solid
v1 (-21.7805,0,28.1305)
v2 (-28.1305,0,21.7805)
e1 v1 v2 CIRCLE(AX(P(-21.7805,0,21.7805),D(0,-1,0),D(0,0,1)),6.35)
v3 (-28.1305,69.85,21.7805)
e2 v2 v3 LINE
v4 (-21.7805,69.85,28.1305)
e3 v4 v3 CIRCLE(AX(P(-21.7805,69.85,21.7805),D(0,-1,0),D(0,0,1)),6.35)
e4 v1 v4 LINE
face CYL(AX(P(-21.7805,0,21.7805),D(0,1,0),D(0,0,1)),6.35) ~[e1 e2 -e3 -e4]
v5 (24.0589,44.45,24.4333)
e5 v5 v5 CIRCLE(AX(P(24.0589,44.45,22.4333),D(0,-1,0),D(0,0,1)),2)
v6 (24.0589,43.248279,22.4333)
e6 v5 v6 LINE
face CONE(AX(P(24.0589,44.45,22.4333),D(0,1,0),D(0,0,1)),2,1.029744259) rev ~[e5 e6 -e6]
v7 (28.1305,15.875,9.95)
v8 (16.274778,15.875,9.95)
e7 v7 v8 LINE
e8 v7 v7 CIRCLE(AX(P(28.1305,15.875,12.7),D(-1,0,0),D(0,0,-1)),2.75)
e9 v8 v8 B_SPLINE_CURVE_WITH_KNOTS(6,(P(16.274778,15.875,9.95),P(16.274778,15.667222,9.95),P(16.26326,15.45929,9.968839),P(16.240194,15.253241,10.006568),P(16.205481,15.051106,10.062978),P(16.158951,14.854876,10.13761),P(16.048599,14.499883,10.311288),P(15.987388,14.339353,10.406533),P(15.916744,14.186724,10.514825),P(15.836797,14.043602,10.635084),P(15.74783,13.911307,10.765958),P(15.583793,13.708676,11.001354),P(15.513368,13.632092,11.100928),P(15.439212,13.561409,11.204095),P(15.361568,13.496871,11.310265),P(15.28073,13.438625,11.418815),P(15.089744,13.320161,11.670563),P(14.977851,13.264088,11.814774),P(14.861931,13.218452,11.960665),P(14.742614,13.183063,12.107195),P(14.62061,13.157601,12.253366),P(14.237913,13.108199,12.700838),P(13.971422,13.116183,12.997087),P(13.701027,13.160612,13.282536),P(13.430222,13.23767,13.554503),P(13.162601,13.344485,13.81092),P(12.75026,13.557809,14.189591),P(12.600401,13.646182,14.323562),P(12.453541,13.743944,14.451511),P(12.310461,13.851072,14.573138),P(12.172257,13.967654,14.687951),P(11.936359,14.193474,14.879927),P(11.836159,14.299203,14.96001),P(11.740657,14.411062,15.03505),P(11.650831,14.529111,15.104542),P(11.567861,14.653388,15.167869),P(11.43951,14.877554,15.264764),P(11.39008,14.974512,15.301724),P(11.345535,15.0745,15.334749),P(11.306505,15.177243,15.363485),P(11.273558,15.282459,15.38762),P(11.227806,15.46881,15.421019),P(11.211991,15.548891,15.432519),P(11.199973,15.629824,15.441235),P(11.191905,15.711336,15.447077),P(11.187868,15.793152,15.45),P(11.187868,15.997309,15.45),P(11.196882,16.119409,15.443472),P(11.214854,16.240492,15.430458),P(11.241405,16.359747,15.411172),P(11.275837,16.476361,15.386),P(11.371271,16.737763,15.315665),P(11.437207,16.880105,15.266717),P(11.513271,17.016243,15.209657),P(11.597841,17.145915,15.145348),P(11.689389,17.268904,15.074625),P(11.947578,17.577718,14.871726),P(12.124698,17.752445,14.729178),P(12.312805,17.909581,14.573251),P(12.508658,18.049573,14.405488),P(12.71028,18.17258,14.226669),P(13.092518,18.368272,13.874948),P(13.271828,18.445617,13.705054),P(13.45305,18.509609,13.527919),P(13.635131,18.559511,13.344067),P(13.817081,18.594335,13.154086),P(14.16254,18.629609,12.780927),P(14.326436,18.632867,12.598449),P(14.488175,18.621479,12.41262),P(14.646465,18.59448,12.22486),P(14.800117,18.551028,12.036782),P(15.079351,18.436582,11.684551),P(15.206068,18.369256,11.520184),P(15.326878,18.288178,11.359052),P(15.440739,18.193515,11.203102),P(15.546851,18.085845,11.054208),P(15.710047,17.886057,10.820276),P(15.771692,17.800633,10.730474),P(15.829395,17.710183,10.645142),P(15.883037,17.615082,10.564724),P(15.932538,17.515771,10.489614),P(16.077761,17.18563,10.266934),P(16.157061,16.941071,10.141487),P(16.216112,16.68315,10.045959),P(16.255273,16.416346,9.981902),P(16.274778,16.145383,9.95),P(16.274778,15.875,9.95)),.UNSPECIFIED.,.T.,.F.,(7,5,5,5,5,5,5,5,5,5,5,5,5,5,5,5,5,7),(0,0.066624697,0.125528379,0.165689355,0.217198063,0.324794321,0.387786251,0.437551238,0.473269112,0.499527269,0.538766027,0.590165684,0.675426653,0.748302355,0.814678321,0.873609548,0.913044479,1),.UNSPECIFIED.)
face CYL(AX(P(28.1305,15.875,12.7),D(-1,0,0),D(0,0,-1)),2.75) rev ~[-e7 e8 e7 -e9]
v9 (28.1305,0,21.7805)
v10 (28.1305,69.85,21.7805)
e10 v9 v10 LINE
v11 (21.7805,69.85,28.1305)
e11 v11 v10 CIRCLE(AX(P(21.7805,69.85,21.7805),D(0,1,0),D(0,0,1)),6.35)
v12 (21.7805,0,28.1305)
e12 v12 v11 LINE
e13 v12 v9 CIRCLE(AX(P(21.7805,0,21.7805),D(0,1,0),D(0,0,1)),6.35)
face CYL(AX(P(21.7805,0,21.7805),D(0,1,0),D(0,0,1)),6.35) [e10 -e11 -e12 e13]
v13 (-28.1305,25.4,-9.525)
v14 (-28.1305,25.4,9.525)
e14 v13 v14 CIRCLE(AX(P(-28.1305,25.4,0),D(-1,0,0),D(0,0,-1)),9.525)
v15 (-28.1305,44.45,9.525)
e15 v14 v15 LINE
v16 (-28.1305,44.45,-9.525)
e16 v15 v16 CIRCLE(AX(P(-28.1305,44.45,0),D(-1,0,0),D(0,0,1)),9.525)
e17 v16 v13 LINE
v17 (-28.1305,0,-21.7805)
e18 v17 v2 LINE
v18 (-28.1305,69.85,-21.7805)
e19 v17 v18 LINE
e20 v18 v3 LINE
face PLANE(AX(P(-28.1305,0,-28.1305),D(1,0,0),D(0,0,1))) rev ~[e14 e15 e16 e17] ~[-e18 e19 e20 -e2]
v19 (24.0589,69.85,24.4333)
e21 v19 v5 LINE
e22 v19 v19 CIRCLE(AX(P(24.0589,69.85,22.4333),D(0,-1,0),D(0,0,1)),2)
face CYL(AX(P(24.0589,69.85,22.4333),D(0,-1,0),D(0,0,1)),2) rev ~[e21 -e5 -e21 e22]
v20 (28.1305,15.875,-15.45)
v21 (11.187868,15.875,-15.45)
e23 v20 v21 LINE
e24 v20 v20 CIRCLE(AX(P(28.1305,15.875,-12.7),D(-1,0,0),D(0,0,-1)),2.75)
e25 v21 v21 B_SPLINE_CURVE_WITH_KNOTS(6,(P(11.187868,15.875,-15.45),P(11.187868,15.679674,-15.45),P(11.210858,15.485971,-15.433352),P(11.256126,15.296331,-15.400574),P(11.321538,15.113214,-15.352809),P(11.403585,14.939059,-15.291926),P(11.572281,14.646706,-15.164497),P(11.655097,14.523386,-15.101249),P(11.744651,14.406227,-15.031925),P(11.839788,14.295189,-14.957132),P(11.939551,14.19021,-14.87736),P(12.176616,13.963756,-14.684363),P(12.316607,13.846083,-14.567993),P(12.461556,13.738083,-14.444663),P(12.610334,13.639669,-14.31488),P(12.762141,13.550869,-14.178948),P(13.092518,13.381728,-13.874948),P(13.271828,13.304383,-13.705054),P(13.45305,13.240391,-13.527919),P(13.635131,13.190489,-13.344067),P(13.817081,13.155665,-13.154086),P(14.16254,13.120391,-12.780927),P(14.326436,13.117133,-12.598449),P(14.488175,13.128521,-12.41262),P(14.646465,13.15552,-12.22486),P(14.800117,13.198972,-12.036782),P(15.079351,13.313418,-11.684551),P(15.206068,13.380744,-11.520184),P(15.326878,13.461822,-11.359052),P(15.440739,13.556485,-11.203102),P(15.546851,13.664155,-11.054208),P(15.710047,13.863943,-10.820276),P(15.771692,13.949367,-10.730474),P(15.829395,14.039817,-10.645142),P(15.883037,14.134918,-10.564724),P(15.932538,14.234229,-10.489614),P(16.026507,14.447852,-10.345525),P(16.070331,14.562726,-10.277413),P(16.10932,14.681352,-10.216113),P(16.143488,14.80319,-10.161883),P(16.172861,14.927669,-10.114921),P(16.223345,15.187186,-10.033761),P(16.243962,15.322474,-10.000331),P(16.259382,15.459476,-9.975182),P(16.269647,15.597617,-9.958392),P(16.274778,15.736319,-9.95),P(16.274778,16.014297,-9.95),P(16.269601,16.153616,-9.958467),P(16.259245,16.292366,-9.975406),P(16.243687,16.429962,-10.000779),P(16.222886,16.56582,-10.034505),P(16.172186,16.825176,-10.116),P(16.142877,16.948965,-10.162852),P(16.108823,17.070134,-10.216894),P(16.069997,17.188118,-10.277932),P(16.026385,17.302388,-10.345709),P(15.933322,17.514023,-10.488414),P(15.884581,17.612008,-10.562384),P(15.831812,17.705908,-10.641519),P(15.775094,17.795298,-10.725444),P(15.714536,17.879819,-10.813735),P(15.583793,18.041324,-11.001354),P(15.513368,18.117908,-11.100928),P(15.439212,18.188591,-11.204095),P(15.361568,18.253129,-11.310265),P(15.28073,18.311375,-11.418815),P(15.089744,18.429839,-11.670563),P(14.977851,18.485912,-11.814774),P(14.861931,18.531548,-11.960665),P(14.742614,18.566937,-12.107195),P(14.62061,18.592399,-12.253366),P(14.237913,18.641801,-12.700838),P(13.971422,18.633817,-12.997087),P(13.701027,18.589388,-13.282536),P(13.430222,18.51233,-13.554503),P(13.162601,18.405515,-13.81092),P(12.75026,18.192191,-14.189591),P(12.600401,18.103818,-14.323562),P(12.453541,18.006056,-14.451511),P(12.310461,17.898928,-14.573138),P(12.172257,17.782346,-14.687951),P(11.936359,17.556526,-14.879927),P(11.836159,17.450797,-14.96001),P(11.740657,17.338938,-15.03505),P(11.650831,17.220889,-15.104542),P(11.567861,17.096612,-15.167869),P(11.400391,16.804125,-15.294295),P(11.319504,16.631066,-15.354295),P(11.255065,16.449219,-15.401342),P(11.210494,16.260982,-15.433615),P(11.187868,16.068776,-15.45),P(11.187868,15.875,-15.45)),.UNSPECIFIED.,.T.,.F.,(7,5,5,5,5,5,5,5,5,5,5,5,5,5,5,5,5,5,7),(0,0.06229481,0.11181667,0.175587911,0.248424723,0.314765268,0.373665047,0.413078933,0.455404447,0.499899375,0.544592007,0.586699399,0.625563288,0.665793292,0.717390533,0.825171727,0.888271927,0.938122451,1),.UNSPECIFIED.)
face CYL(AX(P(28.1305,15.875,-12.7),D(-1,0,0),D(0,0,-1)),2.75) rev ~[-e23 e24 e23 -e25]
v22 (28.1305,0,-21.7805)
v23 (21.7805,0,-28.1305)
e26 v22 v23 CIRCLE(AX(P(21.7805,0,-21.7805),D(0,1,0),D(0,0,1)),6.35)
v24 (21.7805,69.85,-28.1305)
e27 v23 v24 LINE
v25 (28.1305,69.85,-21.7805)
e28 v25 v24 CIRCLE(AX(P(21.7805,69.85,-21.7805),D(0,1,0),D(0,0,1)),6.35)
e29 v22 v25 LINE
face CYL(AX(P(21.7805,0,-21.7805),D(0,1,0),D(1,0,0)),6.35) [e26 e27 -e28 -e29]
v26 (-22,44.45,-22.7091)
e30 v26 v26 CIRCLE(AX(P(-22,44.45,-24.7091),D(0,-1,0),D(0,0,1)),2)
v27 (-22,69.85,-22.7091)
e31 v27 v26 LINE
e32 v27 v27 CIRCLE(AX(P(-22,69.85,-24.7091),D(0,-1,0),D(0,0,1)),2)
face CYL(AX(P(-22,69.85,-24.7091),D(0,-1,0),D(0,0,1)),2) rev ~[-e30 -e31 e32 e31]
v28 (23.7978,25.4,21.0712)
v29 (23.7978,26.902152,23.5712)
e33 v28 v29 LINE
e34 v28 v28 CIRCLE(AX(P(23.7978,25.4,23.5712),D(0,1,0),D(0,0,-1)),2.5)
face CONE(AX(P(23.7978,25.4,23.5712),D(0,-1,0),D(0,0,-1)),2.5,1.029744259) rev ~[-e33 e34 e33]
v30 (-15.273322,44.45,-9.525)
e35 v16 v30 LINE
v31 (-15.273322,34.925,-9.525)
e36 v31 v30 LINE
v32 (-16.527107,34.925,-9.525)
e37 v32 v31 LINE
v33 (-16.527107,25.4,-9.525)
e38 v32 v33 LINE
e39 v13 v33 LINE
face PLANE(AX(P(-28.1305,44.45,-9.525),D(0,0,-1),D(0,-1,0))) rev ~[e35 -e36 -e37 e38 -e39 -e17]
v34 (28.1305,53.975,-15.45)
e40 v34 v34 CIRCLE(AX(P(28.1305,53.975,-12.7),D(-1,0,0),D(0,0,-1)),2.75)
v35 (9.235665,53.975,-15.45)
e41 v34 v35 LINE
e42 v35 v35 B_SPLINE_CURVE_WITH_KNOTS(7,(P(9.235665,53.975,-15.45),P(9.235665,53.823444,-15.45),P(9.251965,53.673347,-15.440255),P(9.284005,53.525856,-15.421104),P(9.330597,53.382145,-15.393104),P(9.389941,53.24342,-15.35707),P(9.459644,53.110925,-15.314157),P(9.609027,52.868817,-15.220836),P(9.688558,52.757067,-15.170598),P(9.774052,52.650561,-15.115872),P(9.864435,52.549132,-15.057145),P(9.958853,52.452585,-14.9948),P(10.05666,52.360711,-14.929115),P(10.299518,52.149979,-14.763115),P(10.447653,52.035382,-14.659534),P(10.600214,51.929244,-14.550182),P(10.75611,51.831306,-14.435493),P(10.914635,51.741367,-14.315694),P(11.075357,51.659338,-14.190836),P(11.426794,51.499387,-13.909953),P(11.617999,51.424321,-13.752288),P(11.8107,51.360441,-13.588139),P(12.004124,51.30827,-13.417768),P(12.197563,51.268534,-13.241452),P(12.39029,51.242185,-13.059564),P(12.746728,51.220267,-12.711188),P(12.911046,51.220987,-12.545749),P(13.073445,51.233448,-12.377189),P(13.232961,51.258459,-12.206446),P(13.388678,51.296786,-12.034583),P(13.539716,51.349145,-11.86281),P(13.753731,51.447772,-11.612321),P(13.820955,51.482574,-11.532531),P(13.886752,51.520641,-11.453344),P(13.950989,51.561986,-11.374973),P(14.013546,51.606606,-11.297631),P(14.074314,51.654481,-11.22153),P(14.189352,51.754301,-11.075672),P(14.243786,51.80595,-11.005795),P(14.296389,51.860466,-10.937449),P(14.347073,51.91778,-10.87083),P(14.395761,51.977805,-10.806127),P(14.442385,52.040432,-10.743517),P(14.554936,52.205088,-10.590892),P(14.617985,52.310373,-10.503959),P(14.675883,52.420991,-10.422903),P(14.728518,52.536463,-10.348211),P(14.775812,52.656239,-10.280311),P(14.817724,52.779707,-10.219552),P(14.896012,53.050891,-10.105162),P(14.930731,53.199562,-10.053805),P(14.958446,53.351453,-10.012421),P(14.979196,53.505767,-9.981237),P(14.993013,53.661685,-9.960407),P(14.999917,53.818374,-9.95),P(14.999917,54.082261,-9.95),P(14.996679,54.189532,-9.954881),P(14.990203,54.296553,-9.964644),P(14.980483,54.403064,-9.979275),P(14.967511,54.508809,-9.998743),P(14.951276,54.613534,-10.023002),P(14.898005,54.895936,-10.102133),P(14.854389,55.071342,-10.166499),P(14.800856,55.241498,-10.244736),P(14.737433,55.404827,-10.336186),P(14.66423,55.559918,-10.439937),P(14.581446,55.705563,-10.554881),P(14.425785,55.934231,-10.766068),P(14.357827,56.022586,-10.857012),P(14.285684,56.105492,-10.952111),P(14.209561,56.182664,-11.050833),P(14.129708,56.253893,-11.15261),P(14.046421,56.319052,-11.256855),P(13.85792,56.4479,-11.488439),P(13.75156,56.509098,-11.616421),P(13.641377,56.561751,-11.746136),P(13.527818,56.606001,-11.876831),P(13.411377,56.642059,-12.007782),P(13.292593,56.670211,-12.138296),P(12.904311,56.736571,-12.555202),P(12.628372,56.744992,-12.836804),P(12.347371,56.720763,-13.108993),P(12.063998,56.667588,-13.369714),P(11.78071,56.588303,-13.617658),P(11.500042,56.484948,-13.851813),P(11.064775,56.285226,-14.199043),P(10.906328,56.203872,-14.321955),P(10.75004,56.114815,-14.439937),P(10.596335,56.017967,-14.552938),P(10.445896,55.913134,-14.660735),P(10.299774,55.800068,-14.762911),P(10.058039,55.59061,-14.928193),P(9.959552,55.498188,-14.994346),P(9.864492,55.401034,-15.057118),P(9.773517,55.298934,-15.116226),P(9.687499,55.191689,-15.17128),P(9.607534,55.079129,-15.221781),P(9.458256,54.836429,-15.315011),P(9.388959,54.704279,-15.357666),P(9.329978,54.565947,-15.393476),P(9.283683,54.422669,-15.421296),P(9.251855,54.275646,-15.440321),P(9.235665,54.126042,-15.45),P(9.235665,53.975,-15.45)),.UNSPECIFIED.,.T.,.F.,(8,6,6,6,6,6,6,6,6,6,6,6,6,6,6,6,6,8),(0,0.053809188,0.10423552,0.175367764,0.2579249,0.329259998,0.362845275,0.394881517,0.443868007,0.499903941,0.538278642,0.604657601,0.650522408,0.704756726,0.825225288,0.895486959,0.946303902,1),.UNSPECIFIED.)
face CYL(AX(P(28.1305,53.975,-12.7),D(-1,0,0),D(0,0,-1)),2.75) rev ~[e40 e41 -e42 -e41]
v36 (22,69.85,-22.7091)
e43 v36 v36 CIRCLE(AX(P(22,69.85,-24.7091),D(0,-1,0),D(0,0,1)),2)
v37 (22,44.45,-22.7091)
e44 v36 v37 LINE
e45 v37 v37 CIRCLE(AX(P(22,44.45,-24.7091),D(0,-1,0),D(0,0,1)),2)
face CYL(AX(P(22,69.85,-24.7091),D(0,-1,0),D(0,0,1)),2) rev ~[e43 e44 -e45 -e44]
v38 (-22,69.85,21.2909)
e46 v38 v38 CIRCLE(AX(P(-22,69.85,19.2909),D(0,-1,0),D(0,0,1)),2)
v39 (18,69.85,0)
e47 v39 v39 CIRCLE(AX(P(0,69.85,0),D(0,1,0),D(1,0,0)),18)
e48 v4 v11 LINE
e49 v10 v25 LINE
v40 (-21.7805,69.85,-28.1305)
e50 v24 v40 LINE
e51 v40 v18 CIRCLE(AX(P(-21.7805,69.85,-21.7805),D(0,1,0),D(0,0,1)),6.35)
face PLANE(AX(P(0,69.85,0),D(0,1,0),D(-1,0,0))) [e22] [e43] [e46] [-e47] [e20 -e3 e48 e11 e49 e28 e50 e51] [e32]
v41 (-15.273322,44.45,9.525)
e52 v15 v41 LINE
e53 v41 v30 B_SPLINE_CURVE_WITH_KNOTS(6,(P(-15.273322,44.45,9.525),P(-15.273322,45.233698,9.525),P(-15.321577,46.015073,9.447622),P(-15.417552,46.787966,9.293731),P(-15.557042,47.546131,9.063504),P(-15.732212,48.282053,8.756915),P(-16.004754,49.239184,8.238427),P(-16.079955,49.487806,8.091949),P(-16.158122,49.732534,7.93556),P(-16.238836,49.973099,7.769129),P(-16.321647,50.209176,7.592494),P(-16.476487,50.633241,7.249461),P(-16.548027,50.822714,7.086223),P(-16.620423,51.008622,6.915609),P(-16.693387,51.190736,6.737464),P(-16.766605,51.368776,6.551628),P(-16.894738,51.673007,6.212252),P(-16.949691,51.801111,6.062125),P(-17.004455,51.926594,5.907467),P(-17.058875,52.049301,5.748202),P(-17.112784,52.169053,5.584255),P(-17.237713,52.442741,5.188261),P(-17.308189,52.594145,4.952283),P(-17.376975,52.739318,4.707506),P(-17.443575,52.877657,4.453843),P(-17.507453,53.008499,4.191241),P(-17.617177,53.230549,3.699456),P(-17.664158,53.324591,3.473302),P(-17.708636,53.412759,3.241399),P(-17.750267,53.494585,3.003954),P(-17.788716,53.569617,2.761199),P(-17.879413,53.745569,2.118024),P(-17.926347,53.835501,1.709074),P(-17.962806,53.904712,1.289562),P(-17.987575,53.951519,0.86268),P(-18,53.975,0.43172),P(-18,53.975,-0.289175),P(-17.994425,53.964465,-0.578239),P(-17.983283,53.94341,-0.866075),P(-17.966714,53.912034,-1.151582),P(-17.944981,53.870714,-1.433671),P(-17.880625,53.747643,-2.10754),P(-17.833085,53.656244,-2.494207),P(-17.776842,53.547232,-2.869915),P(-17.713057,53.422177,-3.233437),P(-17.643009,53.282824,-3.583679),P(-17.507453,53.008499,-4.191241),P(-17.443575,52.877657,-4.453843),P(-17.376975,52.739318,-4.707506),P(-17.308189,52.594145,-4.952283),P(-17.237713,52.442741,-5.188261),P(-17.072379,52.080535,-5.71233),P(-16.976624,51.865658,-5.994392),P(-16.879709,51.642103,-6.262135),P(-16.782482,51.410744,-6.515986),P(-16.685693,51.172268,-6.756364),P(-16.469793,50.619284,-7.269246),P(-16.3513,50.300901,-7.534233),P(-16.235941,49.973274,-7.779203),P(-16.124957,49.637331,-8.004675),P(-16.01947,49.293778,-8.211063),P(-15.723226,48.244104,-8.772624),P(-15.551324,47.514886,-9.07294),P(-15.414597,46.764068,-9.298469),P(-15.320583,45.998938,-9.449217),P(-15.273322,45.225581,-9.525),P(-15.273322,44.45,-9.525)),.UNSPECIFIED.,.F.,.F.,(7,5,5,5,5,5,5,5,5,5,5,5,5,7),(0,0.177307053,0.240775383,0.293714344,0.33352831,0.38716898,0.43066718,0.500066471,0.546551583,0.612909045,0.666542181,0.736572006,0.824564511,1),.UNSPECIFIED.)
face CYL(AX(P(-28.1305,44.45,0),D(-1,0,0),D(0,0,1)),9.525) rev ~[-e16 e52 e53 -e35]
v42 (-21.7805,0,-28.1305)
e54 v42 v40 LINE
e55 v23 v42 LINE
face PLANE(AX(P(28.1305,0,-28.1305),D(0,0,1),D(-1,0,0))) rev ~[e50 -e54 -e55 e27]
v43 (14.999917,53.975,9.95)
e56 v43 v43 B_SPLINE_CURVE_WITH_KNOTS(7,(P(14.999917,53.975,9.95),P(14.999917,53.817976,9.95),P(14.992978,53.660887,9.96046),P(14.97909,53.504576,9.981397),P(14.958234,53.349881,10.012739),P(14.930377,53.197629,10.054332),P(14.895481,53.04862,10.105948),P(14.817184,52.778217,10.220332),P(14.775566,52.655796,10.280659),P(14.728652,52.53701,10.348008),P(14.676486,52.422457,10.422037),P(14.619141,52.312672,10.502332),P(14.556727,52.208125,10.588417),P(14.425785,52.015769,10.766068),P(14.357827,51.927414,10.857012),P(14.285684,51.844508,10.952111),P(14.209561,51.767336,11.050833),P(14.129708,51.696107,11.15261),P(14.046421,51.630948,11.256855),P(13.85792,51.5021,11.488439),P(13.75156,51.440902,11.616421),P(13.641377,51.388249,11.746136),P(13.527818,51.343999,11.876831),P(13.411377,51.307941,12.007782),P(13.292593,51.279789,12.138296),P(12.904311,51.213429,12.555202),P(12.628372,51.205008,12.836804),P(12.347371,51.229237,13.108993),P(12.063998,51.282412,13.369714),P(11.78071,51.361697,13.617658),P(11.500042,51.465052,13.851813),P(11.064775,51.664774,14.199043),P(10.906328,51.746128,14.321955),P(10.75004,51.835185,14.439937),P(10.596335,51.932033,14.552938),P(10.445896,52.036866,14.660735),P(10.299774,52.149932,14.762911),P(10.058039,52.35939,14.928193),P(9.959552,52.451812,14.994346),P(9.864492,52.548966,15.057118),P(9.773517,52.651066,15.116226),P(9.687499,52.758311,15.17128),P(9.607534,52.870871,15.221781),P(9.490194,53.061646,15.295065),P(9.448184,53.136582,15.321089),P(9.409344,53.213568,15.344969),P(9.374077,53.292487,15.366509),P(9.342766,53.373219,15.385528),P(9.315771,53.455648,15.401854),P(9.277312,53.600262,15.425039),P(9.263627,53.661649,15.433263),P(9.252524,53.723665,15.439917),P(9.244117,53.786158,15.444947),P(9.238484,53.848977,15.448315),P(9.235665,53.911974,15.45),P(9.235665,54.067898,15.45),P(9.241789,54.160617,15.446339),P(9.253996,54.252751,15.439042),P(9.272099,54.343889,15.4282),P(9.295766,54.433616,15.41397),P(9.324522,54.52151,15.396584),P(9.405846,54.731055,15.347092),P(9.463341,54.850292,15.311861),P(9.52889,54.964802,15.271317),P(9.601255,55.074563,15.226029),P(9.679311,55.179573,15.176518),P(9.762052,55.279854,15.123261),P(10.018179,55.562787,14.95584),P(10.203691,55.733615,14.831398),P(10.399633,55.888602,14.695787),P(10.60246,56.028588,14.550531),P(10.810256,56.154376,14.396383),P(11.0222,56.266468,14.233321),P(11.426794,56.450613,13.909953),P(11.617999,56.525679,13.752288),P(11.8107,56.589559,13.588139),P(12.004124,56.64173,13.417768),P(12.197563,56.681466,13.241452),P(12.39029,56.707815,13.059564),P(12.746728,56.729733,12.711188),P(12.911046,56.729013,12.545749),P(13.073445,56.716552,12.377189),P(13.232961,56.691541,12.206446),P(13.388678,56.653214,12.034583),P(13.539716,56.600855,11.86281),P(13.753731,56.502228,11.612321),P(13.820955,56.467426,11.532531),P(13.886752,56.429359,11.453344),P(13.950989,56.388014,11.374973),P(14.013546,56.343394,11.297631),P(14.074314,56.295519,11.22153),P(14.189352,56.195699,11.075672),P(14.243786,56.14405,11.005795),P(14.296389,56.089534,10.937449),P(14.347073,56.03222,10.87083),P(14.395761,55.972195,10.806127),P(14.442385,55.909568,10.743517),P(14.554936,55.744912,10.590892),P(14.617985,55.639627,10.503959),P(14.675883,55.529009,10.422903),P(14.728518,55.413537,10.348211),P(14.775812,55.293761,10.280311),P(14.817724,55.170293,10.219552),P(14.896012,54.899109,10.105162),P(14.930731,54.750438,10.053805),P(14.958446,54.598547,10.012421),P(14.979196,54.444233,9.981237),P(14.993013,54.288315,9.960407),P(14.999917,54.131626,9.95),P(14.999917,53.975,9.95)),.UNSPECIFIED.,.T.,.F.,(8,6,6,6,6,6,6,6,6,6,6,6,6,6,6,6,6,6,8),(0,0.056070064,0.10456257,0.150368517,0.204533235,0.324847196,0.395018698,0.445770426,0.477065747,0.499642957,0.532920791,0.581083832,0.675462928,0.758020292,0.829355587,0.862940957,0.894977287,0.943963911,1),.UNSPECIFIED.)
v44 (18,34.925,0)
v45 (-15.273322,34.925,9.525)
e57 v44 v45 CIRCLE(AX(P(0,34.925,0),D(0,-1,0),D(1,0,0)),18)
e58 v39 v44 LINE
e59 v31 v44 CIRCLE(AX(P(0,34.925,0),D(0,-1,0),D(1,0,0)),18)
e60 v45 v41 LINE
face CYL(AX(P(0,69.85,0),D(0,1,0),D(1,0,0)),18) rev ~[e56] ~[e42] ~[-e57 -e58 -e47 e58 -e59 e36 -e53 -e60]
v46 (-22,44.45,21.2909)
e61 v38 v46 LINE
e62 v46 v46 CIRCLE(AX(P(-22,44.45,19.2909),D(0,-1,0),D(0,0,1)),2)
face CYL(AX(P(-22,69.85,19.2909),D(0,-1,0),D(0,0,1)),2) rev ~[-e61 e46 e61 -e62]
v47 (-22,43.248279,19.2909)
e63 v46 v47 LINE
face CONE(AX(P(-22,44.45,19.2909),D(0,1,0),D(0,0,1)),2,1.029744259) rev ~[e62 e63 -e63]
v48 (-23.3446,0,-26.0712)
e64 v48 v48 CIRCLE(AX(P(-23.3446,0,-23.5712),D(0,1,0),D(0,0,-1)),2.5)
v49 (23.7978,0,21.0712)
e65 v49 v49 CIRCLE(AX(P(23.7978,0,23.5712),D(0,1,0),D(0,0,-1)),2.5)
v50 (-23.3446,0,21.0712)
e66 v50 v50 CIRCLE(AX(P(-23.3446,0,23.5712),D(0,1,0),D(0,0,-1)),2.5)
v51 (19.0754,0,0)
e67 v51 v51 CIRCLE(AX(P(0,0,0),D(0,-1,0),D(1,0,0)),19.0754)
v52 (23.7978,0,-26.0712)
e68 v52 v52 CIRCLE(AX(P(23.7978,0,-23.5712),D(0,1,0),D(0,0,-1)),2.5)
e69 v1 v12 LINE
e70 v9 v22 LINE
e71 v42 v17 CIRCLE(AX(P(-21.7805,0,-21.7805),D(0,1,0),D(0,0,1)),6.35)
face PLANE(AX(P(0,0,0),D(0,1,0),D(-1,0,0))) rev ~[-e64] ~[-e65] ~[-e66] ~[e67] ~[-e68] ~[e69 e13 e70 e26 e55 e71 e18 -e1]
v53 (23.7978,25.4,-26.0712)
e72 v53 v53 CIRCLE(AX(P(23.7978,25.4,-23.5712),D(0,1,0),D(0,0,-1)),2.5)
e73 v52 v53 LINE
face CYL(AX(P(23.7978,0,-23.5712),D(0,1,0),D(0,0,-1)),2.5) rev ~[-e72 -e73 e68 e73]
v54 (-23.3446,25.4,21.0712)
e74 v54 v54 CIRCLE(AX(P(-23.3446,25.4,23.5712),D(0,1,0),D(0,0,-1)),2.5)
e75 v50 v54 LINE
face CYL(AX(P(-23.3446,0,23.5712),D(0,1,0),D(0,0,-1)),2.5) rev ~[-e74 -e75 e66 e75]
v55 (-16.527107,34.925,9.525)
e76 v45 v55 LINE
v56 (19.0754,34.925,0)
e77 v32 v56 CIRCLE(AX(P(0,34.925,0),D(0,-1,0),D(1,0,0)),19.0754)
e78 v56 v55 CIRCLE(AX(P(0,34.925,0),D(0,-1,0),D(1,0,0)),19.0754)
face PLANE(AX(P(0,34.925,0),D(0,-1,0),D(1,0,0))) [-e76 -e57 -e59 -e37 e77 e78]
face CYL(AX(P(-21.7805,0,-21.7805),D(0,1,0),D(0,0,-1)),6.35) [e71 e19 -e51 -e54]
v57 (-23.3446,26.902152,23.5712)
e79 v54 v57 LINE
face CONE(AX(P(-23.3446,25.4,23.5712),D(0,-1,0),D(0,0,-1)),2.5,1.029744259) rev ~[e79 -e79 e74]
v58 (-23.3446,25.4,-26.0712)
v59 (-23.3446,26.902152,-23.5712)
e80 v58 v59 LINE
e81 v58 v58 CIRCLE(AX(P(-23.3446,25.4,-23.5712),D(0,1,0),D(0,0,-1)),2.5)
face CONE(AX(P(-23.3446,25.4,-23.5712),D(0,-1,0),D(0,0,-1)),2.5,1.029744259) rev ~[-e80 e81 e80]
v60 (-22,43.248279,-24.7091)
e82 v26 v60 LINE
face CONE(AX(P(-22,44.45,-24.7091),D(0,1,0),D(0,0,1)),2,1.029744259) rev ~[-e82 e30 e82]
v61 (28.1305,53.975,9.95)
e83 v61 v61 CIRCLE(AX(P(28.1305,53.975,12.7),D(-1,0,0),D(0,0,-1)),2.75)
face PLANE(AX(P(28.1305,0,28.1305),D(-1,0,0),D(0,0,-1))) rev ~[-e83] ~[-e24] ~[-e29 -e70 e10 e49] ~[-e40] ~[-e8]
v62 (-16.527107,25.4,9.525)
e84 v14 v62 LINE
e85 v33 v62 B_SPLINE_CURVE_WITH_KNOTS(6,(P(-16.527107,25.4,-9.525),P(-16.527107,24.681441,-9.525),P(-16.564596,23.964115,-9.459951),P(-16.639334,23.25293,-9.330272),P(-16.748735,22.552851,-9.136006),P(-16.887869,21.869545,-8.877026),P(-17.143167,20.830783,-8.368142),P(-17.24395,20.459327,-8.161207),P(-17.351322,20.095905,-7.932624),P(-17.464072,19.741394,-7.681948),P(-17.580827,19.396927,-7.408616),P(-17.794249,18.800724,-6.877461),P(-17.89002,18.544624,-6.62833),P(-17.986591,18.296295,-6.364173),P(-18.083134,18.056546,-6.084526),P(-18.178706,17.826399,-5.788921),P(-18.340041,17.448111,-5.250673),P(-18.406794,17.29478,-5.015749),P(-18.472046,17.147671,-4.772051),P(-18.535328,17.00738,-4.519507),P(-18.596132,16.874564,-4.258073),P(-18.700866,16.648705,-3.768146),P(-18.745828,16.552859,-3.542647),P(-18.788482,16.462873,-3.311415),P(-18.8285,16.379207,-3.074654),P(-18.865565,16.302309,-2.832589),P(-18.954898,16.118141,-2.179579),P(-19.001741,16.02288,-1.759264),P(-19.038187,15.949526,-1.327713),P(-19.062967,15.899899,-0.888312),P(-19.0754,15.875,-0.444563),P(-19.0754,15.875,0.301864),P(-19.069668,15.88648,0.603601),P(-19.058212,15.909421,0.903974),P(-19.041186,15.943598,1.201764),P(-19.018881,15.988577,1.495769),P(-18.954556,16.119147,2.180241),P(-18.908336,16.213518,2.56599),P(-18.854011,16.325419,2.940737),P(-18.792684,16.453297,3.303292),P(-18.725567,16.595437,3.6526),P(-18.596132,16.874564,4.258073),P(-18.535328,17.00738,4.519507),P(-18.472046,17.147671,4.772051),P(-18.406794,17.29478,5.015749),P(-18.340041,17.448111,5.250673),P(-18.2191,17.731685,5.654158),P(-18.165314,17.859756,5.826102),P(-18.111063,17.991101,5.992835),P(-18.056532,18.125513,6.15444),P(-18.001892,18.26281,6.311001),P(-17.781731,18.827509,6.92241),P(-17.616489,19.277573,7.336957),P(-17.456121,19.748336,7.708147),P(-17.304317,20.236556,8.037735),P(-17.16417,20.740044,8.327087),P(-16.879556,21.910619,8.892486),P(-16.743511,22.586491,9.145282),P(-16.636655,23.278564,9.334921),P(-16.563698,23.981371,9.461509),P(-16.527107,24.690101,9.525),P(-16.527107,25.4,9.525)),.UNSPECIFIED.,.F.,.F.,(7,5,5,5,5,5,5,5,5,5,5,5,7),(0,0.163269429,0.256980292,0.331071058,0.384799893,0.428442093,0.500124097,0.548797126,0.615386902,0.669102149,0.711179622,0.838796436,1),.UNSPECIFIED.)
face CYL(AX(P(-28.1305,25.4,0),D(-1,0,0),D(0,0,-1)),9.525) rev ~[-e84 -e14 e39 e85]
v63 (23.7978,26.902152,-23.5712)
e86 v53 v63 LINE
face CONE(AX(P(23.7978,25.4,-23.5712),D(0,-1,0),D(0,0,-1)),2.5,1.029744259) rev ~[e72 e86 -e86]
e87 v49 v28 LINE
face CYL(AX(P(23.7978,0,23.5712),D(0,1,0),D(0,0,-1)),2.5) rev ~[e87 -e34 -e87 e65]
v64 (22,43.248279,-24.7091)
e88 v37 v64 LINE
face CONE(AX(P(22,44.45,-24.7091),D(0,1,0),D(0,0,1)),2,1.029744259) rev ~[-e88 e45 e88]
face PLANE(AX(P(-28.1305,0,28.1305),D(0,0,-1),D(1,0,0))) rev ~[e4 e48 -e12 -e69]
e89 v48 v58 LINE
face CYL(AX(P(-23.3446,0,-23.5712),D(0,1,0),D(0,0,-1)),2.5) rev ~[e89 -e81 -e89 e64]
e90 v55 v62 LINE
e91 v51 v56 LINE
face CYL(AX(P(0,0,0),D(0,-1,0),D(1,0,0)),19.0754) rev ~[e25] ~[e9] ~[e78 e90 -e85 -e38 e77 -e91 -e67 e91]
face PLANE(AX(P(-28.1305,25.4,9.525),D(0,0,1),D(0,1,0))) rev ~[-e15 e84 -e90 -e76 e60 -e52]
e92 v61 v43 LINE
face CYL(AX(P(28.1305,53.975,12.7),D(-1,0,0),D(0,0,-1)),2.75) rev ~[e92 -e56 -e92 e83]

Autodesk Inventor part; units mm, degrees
ref_plane "YZ Plane" through (0, 0, 0) normal (1, 0, 0) x (0, 1, 0)
ref_plane "XZ Plane" through (0, 0, 0) normal (0, 1, 0) x (-1, 0, 0)
ref_plane "XY Plane" through (0, 0, 0) normal (0, 0, 1) x (1, 0, 0)
sketch "Sketch1" plane through (0, 0, 0) normal (0, 1, 0) x (-1, 0, 0)
  line L0 (28.1305, 28.1305) -> (-28.1305, 28.1305)
  line L1 (-28.1305, 28.1305) -> (-28.1305, -28.1305)
  line L2 (-28.1305, -28.1305) -> (28.1305, -28.1305)
  line L3 (28.1305, -28.1305) -> (28.1305, 28.1305)
  line L4 (28.1305, 28.1305) -> (-28.1305, -28.1305) construction
  line L5 (-28.1305, 28.1305) -> (28.1305, -28.1305) construction
  point P0 (0, 0)
  dimension "d0" = 56.261
  dimension "d1" = 56.261
extrude "Extrusion1" add sketch "Sketch1" along normal blind 69.85
sketch "Sketch2" plane through (0, 69.85, 0) normal (0, 1, 0) x (1, 0, 0)
  circle A0 centre (0, 0) radius 18
  point P0 (-22, 24.7091)
  point P1 (22, 24.7091)
  point P2 (24.0589, -22.4333)
  point P3 (-22, -19.2909)
  dimension "d4" = 44
  dimension "d5" = 44
  dimension "d6" = 22
  dimension "d7" = 36
hole "Hole1" at (-22, 69.85, -24.7091) at (22, 69.85, -24.7091) at (24.0589, 69.85, 22.4333) at (-22, 69.85, 19.2909) direction (0, -1, 0) diameter 4 depth 25.4 tip angle 118
sketch "Sketch3" plane through (0, 69.85, 0) normal (0, 1, 0) x (1, 0, 0)
  circle A0 centre (0, 0) radius 18
  dimension "d15" = 36
extrude "Extrusion2" cut sketch "Sketch3" against normal blind 254
sketch "Sketch4" plane through (0, 0, 0) normal (0, -1, 0) x (1, 0, 0)
  circle A0 centre (0, 0) radius 18 projected
  point P0 (-23.3446, 23.5712)
  point P1 (23.7978, 23.5712)
  point P2 (23.7978, -23.5712)
  point P3 (-23.3446, -23.5712)
  dimension "d18" = 47.1424
  dimension "d19" = 47.1424
  dimension "d20" = 23.5712
hole "Hole2" at (-23.3446, 0, 23.5712) at (23.7978, 0, 23.5712) at (23.7978, 0, -23.5712) at (-23.3446, 0, -23.5712) direction (0, 1, 0) diameter 5 depth 25.4 tip angle 118
sketch "Sketch5" plane through (0, 0, 0) normal (0, -1, 0) x (1, 0, 0)
  circle A0 centre (0, 0) radius 18 projected
  circle A1 centre (0, 0) radius 19.0754
  dimension "d28" = 38.1508
extrude "Extrusion3" cut sketch "Sketch5" against normal blind 34.925
fillet "Fillet1" radius 6.35 1 edges at (28.1305, 34.925, 28.1305)
fillet "Fillet2" radius 6.35 1 edges at (-28.1305, 34.925, 28.1305)
fillet "Fillet3" radius 6.35 1 edges at (28.1305, 34.925, -28.1305)
fillet "Fillet4" radius 6.35 1 edges at (-28.1305, 34.925, -28.1305)
sketch "Sketch6" plane through (-28.1305, 0, 21.7805) normal (-1, 0, 0) x (0, 0, 1)
  line L0 (-49.911, 0) -> (0, 0) projected
  line L1 (0, 69.85) -> (0, 0) projected
  line L2 (-31.3055, 25.4) -> (-12.2555, 25.4) construction
  line L3 (-12.2555, 25.4) -> (-12.2555, 44.45)
  line L4 (-12.2555, 44.45) -> (-31.3055, 44.45) construction
  line L5 (-31.3055, 44.45) -> (-31.3055, 25.4)
  line L6 (-31.3055, 25.4) -> (-12.2555, 44.45) construction
  line L7 (-12.2555, 25.4) -> (-31.3055, 44.45) construction
  arc A0 (-12.2555, 44.45) -> (-31.3055, 44.45) centre (-21.7805, 44.45) ccw
  arc A1 (-31.3055, 25.4) -> (-12.2555, 25.4) centre (-21.7805, 25.4) ccw
  point P0 (-43.561, 0)
  point P1 (-21.7805, 0)
  point P2 (-21.7805, 34.925)
  point P3 (-21.7805, 34.925)
  point P4 (-21.7805, 0)
  point P5 (0, 34.925)
  point P6 (-21.7805, 53.975)
  point P7 (-21.7805, 15.875)
  dimension "d35" = 19.05
  dimension "d36" = 19.05
extrude "Extrusion4" cut sketch "Sketch6" against normal blind 25.4
sketch "Sketch7" plane through (28.1305, 0, 21.7805) normal (1, 0, 0) x (0, 0, -1)
  line L0 (0, 0) -> (0, 69.85) projected
  line L1 (0, 0) -> (49.911, 0) projected
  line L2 (9.0805, 15.875) -> (34.4805, 15.875) construction
  line L3 (34.4805, 15.875) -> (34.4805, 53.975) construction
  line L4 (34.4805, 53.975) -> (9.0805, 53.975) construction
  line L5 (9.0805, 53.975) -> (9.0805, 15.875) construction
  line L6 (9.0805, 15.875) -> (34.4805, 53.975) construction
  line L7 (34.4805, 15.875) -> (9.0805, 53.975) construction
  line L8 (0, 69.85) -> (49.911, 69.85) projected
  point P0 (43.561, 0)
  point P1 (21.7805, 0)
  point P2 (21.7805, 34.925)
  point P3 (21.7805, 0)
  point P4 (0, 34.925)
  point P5 (43.561, 69.85)
  dimension "d39" = 25.4
  dimension "d40" = 38.1
  dimension "d48" = 15.875
hole "Hole3" at (28.1305, 53.975, 12.7) at (28.1305, 53.975, -12.7) at (28.1305, 15.875, -12.7) at (28.1305, 15.875, 12.7) direction (-1, 0, 0) diameter 5.5 depth 25.4 tip angle 118
equation "\"d5\" = d4"
equation "\"d6\" = 0.5 * d4"
equation "\"d19\" = d18"
equation "\"d20\" = 0.5 * d18"
properties part number "nema23_motor_mount"
